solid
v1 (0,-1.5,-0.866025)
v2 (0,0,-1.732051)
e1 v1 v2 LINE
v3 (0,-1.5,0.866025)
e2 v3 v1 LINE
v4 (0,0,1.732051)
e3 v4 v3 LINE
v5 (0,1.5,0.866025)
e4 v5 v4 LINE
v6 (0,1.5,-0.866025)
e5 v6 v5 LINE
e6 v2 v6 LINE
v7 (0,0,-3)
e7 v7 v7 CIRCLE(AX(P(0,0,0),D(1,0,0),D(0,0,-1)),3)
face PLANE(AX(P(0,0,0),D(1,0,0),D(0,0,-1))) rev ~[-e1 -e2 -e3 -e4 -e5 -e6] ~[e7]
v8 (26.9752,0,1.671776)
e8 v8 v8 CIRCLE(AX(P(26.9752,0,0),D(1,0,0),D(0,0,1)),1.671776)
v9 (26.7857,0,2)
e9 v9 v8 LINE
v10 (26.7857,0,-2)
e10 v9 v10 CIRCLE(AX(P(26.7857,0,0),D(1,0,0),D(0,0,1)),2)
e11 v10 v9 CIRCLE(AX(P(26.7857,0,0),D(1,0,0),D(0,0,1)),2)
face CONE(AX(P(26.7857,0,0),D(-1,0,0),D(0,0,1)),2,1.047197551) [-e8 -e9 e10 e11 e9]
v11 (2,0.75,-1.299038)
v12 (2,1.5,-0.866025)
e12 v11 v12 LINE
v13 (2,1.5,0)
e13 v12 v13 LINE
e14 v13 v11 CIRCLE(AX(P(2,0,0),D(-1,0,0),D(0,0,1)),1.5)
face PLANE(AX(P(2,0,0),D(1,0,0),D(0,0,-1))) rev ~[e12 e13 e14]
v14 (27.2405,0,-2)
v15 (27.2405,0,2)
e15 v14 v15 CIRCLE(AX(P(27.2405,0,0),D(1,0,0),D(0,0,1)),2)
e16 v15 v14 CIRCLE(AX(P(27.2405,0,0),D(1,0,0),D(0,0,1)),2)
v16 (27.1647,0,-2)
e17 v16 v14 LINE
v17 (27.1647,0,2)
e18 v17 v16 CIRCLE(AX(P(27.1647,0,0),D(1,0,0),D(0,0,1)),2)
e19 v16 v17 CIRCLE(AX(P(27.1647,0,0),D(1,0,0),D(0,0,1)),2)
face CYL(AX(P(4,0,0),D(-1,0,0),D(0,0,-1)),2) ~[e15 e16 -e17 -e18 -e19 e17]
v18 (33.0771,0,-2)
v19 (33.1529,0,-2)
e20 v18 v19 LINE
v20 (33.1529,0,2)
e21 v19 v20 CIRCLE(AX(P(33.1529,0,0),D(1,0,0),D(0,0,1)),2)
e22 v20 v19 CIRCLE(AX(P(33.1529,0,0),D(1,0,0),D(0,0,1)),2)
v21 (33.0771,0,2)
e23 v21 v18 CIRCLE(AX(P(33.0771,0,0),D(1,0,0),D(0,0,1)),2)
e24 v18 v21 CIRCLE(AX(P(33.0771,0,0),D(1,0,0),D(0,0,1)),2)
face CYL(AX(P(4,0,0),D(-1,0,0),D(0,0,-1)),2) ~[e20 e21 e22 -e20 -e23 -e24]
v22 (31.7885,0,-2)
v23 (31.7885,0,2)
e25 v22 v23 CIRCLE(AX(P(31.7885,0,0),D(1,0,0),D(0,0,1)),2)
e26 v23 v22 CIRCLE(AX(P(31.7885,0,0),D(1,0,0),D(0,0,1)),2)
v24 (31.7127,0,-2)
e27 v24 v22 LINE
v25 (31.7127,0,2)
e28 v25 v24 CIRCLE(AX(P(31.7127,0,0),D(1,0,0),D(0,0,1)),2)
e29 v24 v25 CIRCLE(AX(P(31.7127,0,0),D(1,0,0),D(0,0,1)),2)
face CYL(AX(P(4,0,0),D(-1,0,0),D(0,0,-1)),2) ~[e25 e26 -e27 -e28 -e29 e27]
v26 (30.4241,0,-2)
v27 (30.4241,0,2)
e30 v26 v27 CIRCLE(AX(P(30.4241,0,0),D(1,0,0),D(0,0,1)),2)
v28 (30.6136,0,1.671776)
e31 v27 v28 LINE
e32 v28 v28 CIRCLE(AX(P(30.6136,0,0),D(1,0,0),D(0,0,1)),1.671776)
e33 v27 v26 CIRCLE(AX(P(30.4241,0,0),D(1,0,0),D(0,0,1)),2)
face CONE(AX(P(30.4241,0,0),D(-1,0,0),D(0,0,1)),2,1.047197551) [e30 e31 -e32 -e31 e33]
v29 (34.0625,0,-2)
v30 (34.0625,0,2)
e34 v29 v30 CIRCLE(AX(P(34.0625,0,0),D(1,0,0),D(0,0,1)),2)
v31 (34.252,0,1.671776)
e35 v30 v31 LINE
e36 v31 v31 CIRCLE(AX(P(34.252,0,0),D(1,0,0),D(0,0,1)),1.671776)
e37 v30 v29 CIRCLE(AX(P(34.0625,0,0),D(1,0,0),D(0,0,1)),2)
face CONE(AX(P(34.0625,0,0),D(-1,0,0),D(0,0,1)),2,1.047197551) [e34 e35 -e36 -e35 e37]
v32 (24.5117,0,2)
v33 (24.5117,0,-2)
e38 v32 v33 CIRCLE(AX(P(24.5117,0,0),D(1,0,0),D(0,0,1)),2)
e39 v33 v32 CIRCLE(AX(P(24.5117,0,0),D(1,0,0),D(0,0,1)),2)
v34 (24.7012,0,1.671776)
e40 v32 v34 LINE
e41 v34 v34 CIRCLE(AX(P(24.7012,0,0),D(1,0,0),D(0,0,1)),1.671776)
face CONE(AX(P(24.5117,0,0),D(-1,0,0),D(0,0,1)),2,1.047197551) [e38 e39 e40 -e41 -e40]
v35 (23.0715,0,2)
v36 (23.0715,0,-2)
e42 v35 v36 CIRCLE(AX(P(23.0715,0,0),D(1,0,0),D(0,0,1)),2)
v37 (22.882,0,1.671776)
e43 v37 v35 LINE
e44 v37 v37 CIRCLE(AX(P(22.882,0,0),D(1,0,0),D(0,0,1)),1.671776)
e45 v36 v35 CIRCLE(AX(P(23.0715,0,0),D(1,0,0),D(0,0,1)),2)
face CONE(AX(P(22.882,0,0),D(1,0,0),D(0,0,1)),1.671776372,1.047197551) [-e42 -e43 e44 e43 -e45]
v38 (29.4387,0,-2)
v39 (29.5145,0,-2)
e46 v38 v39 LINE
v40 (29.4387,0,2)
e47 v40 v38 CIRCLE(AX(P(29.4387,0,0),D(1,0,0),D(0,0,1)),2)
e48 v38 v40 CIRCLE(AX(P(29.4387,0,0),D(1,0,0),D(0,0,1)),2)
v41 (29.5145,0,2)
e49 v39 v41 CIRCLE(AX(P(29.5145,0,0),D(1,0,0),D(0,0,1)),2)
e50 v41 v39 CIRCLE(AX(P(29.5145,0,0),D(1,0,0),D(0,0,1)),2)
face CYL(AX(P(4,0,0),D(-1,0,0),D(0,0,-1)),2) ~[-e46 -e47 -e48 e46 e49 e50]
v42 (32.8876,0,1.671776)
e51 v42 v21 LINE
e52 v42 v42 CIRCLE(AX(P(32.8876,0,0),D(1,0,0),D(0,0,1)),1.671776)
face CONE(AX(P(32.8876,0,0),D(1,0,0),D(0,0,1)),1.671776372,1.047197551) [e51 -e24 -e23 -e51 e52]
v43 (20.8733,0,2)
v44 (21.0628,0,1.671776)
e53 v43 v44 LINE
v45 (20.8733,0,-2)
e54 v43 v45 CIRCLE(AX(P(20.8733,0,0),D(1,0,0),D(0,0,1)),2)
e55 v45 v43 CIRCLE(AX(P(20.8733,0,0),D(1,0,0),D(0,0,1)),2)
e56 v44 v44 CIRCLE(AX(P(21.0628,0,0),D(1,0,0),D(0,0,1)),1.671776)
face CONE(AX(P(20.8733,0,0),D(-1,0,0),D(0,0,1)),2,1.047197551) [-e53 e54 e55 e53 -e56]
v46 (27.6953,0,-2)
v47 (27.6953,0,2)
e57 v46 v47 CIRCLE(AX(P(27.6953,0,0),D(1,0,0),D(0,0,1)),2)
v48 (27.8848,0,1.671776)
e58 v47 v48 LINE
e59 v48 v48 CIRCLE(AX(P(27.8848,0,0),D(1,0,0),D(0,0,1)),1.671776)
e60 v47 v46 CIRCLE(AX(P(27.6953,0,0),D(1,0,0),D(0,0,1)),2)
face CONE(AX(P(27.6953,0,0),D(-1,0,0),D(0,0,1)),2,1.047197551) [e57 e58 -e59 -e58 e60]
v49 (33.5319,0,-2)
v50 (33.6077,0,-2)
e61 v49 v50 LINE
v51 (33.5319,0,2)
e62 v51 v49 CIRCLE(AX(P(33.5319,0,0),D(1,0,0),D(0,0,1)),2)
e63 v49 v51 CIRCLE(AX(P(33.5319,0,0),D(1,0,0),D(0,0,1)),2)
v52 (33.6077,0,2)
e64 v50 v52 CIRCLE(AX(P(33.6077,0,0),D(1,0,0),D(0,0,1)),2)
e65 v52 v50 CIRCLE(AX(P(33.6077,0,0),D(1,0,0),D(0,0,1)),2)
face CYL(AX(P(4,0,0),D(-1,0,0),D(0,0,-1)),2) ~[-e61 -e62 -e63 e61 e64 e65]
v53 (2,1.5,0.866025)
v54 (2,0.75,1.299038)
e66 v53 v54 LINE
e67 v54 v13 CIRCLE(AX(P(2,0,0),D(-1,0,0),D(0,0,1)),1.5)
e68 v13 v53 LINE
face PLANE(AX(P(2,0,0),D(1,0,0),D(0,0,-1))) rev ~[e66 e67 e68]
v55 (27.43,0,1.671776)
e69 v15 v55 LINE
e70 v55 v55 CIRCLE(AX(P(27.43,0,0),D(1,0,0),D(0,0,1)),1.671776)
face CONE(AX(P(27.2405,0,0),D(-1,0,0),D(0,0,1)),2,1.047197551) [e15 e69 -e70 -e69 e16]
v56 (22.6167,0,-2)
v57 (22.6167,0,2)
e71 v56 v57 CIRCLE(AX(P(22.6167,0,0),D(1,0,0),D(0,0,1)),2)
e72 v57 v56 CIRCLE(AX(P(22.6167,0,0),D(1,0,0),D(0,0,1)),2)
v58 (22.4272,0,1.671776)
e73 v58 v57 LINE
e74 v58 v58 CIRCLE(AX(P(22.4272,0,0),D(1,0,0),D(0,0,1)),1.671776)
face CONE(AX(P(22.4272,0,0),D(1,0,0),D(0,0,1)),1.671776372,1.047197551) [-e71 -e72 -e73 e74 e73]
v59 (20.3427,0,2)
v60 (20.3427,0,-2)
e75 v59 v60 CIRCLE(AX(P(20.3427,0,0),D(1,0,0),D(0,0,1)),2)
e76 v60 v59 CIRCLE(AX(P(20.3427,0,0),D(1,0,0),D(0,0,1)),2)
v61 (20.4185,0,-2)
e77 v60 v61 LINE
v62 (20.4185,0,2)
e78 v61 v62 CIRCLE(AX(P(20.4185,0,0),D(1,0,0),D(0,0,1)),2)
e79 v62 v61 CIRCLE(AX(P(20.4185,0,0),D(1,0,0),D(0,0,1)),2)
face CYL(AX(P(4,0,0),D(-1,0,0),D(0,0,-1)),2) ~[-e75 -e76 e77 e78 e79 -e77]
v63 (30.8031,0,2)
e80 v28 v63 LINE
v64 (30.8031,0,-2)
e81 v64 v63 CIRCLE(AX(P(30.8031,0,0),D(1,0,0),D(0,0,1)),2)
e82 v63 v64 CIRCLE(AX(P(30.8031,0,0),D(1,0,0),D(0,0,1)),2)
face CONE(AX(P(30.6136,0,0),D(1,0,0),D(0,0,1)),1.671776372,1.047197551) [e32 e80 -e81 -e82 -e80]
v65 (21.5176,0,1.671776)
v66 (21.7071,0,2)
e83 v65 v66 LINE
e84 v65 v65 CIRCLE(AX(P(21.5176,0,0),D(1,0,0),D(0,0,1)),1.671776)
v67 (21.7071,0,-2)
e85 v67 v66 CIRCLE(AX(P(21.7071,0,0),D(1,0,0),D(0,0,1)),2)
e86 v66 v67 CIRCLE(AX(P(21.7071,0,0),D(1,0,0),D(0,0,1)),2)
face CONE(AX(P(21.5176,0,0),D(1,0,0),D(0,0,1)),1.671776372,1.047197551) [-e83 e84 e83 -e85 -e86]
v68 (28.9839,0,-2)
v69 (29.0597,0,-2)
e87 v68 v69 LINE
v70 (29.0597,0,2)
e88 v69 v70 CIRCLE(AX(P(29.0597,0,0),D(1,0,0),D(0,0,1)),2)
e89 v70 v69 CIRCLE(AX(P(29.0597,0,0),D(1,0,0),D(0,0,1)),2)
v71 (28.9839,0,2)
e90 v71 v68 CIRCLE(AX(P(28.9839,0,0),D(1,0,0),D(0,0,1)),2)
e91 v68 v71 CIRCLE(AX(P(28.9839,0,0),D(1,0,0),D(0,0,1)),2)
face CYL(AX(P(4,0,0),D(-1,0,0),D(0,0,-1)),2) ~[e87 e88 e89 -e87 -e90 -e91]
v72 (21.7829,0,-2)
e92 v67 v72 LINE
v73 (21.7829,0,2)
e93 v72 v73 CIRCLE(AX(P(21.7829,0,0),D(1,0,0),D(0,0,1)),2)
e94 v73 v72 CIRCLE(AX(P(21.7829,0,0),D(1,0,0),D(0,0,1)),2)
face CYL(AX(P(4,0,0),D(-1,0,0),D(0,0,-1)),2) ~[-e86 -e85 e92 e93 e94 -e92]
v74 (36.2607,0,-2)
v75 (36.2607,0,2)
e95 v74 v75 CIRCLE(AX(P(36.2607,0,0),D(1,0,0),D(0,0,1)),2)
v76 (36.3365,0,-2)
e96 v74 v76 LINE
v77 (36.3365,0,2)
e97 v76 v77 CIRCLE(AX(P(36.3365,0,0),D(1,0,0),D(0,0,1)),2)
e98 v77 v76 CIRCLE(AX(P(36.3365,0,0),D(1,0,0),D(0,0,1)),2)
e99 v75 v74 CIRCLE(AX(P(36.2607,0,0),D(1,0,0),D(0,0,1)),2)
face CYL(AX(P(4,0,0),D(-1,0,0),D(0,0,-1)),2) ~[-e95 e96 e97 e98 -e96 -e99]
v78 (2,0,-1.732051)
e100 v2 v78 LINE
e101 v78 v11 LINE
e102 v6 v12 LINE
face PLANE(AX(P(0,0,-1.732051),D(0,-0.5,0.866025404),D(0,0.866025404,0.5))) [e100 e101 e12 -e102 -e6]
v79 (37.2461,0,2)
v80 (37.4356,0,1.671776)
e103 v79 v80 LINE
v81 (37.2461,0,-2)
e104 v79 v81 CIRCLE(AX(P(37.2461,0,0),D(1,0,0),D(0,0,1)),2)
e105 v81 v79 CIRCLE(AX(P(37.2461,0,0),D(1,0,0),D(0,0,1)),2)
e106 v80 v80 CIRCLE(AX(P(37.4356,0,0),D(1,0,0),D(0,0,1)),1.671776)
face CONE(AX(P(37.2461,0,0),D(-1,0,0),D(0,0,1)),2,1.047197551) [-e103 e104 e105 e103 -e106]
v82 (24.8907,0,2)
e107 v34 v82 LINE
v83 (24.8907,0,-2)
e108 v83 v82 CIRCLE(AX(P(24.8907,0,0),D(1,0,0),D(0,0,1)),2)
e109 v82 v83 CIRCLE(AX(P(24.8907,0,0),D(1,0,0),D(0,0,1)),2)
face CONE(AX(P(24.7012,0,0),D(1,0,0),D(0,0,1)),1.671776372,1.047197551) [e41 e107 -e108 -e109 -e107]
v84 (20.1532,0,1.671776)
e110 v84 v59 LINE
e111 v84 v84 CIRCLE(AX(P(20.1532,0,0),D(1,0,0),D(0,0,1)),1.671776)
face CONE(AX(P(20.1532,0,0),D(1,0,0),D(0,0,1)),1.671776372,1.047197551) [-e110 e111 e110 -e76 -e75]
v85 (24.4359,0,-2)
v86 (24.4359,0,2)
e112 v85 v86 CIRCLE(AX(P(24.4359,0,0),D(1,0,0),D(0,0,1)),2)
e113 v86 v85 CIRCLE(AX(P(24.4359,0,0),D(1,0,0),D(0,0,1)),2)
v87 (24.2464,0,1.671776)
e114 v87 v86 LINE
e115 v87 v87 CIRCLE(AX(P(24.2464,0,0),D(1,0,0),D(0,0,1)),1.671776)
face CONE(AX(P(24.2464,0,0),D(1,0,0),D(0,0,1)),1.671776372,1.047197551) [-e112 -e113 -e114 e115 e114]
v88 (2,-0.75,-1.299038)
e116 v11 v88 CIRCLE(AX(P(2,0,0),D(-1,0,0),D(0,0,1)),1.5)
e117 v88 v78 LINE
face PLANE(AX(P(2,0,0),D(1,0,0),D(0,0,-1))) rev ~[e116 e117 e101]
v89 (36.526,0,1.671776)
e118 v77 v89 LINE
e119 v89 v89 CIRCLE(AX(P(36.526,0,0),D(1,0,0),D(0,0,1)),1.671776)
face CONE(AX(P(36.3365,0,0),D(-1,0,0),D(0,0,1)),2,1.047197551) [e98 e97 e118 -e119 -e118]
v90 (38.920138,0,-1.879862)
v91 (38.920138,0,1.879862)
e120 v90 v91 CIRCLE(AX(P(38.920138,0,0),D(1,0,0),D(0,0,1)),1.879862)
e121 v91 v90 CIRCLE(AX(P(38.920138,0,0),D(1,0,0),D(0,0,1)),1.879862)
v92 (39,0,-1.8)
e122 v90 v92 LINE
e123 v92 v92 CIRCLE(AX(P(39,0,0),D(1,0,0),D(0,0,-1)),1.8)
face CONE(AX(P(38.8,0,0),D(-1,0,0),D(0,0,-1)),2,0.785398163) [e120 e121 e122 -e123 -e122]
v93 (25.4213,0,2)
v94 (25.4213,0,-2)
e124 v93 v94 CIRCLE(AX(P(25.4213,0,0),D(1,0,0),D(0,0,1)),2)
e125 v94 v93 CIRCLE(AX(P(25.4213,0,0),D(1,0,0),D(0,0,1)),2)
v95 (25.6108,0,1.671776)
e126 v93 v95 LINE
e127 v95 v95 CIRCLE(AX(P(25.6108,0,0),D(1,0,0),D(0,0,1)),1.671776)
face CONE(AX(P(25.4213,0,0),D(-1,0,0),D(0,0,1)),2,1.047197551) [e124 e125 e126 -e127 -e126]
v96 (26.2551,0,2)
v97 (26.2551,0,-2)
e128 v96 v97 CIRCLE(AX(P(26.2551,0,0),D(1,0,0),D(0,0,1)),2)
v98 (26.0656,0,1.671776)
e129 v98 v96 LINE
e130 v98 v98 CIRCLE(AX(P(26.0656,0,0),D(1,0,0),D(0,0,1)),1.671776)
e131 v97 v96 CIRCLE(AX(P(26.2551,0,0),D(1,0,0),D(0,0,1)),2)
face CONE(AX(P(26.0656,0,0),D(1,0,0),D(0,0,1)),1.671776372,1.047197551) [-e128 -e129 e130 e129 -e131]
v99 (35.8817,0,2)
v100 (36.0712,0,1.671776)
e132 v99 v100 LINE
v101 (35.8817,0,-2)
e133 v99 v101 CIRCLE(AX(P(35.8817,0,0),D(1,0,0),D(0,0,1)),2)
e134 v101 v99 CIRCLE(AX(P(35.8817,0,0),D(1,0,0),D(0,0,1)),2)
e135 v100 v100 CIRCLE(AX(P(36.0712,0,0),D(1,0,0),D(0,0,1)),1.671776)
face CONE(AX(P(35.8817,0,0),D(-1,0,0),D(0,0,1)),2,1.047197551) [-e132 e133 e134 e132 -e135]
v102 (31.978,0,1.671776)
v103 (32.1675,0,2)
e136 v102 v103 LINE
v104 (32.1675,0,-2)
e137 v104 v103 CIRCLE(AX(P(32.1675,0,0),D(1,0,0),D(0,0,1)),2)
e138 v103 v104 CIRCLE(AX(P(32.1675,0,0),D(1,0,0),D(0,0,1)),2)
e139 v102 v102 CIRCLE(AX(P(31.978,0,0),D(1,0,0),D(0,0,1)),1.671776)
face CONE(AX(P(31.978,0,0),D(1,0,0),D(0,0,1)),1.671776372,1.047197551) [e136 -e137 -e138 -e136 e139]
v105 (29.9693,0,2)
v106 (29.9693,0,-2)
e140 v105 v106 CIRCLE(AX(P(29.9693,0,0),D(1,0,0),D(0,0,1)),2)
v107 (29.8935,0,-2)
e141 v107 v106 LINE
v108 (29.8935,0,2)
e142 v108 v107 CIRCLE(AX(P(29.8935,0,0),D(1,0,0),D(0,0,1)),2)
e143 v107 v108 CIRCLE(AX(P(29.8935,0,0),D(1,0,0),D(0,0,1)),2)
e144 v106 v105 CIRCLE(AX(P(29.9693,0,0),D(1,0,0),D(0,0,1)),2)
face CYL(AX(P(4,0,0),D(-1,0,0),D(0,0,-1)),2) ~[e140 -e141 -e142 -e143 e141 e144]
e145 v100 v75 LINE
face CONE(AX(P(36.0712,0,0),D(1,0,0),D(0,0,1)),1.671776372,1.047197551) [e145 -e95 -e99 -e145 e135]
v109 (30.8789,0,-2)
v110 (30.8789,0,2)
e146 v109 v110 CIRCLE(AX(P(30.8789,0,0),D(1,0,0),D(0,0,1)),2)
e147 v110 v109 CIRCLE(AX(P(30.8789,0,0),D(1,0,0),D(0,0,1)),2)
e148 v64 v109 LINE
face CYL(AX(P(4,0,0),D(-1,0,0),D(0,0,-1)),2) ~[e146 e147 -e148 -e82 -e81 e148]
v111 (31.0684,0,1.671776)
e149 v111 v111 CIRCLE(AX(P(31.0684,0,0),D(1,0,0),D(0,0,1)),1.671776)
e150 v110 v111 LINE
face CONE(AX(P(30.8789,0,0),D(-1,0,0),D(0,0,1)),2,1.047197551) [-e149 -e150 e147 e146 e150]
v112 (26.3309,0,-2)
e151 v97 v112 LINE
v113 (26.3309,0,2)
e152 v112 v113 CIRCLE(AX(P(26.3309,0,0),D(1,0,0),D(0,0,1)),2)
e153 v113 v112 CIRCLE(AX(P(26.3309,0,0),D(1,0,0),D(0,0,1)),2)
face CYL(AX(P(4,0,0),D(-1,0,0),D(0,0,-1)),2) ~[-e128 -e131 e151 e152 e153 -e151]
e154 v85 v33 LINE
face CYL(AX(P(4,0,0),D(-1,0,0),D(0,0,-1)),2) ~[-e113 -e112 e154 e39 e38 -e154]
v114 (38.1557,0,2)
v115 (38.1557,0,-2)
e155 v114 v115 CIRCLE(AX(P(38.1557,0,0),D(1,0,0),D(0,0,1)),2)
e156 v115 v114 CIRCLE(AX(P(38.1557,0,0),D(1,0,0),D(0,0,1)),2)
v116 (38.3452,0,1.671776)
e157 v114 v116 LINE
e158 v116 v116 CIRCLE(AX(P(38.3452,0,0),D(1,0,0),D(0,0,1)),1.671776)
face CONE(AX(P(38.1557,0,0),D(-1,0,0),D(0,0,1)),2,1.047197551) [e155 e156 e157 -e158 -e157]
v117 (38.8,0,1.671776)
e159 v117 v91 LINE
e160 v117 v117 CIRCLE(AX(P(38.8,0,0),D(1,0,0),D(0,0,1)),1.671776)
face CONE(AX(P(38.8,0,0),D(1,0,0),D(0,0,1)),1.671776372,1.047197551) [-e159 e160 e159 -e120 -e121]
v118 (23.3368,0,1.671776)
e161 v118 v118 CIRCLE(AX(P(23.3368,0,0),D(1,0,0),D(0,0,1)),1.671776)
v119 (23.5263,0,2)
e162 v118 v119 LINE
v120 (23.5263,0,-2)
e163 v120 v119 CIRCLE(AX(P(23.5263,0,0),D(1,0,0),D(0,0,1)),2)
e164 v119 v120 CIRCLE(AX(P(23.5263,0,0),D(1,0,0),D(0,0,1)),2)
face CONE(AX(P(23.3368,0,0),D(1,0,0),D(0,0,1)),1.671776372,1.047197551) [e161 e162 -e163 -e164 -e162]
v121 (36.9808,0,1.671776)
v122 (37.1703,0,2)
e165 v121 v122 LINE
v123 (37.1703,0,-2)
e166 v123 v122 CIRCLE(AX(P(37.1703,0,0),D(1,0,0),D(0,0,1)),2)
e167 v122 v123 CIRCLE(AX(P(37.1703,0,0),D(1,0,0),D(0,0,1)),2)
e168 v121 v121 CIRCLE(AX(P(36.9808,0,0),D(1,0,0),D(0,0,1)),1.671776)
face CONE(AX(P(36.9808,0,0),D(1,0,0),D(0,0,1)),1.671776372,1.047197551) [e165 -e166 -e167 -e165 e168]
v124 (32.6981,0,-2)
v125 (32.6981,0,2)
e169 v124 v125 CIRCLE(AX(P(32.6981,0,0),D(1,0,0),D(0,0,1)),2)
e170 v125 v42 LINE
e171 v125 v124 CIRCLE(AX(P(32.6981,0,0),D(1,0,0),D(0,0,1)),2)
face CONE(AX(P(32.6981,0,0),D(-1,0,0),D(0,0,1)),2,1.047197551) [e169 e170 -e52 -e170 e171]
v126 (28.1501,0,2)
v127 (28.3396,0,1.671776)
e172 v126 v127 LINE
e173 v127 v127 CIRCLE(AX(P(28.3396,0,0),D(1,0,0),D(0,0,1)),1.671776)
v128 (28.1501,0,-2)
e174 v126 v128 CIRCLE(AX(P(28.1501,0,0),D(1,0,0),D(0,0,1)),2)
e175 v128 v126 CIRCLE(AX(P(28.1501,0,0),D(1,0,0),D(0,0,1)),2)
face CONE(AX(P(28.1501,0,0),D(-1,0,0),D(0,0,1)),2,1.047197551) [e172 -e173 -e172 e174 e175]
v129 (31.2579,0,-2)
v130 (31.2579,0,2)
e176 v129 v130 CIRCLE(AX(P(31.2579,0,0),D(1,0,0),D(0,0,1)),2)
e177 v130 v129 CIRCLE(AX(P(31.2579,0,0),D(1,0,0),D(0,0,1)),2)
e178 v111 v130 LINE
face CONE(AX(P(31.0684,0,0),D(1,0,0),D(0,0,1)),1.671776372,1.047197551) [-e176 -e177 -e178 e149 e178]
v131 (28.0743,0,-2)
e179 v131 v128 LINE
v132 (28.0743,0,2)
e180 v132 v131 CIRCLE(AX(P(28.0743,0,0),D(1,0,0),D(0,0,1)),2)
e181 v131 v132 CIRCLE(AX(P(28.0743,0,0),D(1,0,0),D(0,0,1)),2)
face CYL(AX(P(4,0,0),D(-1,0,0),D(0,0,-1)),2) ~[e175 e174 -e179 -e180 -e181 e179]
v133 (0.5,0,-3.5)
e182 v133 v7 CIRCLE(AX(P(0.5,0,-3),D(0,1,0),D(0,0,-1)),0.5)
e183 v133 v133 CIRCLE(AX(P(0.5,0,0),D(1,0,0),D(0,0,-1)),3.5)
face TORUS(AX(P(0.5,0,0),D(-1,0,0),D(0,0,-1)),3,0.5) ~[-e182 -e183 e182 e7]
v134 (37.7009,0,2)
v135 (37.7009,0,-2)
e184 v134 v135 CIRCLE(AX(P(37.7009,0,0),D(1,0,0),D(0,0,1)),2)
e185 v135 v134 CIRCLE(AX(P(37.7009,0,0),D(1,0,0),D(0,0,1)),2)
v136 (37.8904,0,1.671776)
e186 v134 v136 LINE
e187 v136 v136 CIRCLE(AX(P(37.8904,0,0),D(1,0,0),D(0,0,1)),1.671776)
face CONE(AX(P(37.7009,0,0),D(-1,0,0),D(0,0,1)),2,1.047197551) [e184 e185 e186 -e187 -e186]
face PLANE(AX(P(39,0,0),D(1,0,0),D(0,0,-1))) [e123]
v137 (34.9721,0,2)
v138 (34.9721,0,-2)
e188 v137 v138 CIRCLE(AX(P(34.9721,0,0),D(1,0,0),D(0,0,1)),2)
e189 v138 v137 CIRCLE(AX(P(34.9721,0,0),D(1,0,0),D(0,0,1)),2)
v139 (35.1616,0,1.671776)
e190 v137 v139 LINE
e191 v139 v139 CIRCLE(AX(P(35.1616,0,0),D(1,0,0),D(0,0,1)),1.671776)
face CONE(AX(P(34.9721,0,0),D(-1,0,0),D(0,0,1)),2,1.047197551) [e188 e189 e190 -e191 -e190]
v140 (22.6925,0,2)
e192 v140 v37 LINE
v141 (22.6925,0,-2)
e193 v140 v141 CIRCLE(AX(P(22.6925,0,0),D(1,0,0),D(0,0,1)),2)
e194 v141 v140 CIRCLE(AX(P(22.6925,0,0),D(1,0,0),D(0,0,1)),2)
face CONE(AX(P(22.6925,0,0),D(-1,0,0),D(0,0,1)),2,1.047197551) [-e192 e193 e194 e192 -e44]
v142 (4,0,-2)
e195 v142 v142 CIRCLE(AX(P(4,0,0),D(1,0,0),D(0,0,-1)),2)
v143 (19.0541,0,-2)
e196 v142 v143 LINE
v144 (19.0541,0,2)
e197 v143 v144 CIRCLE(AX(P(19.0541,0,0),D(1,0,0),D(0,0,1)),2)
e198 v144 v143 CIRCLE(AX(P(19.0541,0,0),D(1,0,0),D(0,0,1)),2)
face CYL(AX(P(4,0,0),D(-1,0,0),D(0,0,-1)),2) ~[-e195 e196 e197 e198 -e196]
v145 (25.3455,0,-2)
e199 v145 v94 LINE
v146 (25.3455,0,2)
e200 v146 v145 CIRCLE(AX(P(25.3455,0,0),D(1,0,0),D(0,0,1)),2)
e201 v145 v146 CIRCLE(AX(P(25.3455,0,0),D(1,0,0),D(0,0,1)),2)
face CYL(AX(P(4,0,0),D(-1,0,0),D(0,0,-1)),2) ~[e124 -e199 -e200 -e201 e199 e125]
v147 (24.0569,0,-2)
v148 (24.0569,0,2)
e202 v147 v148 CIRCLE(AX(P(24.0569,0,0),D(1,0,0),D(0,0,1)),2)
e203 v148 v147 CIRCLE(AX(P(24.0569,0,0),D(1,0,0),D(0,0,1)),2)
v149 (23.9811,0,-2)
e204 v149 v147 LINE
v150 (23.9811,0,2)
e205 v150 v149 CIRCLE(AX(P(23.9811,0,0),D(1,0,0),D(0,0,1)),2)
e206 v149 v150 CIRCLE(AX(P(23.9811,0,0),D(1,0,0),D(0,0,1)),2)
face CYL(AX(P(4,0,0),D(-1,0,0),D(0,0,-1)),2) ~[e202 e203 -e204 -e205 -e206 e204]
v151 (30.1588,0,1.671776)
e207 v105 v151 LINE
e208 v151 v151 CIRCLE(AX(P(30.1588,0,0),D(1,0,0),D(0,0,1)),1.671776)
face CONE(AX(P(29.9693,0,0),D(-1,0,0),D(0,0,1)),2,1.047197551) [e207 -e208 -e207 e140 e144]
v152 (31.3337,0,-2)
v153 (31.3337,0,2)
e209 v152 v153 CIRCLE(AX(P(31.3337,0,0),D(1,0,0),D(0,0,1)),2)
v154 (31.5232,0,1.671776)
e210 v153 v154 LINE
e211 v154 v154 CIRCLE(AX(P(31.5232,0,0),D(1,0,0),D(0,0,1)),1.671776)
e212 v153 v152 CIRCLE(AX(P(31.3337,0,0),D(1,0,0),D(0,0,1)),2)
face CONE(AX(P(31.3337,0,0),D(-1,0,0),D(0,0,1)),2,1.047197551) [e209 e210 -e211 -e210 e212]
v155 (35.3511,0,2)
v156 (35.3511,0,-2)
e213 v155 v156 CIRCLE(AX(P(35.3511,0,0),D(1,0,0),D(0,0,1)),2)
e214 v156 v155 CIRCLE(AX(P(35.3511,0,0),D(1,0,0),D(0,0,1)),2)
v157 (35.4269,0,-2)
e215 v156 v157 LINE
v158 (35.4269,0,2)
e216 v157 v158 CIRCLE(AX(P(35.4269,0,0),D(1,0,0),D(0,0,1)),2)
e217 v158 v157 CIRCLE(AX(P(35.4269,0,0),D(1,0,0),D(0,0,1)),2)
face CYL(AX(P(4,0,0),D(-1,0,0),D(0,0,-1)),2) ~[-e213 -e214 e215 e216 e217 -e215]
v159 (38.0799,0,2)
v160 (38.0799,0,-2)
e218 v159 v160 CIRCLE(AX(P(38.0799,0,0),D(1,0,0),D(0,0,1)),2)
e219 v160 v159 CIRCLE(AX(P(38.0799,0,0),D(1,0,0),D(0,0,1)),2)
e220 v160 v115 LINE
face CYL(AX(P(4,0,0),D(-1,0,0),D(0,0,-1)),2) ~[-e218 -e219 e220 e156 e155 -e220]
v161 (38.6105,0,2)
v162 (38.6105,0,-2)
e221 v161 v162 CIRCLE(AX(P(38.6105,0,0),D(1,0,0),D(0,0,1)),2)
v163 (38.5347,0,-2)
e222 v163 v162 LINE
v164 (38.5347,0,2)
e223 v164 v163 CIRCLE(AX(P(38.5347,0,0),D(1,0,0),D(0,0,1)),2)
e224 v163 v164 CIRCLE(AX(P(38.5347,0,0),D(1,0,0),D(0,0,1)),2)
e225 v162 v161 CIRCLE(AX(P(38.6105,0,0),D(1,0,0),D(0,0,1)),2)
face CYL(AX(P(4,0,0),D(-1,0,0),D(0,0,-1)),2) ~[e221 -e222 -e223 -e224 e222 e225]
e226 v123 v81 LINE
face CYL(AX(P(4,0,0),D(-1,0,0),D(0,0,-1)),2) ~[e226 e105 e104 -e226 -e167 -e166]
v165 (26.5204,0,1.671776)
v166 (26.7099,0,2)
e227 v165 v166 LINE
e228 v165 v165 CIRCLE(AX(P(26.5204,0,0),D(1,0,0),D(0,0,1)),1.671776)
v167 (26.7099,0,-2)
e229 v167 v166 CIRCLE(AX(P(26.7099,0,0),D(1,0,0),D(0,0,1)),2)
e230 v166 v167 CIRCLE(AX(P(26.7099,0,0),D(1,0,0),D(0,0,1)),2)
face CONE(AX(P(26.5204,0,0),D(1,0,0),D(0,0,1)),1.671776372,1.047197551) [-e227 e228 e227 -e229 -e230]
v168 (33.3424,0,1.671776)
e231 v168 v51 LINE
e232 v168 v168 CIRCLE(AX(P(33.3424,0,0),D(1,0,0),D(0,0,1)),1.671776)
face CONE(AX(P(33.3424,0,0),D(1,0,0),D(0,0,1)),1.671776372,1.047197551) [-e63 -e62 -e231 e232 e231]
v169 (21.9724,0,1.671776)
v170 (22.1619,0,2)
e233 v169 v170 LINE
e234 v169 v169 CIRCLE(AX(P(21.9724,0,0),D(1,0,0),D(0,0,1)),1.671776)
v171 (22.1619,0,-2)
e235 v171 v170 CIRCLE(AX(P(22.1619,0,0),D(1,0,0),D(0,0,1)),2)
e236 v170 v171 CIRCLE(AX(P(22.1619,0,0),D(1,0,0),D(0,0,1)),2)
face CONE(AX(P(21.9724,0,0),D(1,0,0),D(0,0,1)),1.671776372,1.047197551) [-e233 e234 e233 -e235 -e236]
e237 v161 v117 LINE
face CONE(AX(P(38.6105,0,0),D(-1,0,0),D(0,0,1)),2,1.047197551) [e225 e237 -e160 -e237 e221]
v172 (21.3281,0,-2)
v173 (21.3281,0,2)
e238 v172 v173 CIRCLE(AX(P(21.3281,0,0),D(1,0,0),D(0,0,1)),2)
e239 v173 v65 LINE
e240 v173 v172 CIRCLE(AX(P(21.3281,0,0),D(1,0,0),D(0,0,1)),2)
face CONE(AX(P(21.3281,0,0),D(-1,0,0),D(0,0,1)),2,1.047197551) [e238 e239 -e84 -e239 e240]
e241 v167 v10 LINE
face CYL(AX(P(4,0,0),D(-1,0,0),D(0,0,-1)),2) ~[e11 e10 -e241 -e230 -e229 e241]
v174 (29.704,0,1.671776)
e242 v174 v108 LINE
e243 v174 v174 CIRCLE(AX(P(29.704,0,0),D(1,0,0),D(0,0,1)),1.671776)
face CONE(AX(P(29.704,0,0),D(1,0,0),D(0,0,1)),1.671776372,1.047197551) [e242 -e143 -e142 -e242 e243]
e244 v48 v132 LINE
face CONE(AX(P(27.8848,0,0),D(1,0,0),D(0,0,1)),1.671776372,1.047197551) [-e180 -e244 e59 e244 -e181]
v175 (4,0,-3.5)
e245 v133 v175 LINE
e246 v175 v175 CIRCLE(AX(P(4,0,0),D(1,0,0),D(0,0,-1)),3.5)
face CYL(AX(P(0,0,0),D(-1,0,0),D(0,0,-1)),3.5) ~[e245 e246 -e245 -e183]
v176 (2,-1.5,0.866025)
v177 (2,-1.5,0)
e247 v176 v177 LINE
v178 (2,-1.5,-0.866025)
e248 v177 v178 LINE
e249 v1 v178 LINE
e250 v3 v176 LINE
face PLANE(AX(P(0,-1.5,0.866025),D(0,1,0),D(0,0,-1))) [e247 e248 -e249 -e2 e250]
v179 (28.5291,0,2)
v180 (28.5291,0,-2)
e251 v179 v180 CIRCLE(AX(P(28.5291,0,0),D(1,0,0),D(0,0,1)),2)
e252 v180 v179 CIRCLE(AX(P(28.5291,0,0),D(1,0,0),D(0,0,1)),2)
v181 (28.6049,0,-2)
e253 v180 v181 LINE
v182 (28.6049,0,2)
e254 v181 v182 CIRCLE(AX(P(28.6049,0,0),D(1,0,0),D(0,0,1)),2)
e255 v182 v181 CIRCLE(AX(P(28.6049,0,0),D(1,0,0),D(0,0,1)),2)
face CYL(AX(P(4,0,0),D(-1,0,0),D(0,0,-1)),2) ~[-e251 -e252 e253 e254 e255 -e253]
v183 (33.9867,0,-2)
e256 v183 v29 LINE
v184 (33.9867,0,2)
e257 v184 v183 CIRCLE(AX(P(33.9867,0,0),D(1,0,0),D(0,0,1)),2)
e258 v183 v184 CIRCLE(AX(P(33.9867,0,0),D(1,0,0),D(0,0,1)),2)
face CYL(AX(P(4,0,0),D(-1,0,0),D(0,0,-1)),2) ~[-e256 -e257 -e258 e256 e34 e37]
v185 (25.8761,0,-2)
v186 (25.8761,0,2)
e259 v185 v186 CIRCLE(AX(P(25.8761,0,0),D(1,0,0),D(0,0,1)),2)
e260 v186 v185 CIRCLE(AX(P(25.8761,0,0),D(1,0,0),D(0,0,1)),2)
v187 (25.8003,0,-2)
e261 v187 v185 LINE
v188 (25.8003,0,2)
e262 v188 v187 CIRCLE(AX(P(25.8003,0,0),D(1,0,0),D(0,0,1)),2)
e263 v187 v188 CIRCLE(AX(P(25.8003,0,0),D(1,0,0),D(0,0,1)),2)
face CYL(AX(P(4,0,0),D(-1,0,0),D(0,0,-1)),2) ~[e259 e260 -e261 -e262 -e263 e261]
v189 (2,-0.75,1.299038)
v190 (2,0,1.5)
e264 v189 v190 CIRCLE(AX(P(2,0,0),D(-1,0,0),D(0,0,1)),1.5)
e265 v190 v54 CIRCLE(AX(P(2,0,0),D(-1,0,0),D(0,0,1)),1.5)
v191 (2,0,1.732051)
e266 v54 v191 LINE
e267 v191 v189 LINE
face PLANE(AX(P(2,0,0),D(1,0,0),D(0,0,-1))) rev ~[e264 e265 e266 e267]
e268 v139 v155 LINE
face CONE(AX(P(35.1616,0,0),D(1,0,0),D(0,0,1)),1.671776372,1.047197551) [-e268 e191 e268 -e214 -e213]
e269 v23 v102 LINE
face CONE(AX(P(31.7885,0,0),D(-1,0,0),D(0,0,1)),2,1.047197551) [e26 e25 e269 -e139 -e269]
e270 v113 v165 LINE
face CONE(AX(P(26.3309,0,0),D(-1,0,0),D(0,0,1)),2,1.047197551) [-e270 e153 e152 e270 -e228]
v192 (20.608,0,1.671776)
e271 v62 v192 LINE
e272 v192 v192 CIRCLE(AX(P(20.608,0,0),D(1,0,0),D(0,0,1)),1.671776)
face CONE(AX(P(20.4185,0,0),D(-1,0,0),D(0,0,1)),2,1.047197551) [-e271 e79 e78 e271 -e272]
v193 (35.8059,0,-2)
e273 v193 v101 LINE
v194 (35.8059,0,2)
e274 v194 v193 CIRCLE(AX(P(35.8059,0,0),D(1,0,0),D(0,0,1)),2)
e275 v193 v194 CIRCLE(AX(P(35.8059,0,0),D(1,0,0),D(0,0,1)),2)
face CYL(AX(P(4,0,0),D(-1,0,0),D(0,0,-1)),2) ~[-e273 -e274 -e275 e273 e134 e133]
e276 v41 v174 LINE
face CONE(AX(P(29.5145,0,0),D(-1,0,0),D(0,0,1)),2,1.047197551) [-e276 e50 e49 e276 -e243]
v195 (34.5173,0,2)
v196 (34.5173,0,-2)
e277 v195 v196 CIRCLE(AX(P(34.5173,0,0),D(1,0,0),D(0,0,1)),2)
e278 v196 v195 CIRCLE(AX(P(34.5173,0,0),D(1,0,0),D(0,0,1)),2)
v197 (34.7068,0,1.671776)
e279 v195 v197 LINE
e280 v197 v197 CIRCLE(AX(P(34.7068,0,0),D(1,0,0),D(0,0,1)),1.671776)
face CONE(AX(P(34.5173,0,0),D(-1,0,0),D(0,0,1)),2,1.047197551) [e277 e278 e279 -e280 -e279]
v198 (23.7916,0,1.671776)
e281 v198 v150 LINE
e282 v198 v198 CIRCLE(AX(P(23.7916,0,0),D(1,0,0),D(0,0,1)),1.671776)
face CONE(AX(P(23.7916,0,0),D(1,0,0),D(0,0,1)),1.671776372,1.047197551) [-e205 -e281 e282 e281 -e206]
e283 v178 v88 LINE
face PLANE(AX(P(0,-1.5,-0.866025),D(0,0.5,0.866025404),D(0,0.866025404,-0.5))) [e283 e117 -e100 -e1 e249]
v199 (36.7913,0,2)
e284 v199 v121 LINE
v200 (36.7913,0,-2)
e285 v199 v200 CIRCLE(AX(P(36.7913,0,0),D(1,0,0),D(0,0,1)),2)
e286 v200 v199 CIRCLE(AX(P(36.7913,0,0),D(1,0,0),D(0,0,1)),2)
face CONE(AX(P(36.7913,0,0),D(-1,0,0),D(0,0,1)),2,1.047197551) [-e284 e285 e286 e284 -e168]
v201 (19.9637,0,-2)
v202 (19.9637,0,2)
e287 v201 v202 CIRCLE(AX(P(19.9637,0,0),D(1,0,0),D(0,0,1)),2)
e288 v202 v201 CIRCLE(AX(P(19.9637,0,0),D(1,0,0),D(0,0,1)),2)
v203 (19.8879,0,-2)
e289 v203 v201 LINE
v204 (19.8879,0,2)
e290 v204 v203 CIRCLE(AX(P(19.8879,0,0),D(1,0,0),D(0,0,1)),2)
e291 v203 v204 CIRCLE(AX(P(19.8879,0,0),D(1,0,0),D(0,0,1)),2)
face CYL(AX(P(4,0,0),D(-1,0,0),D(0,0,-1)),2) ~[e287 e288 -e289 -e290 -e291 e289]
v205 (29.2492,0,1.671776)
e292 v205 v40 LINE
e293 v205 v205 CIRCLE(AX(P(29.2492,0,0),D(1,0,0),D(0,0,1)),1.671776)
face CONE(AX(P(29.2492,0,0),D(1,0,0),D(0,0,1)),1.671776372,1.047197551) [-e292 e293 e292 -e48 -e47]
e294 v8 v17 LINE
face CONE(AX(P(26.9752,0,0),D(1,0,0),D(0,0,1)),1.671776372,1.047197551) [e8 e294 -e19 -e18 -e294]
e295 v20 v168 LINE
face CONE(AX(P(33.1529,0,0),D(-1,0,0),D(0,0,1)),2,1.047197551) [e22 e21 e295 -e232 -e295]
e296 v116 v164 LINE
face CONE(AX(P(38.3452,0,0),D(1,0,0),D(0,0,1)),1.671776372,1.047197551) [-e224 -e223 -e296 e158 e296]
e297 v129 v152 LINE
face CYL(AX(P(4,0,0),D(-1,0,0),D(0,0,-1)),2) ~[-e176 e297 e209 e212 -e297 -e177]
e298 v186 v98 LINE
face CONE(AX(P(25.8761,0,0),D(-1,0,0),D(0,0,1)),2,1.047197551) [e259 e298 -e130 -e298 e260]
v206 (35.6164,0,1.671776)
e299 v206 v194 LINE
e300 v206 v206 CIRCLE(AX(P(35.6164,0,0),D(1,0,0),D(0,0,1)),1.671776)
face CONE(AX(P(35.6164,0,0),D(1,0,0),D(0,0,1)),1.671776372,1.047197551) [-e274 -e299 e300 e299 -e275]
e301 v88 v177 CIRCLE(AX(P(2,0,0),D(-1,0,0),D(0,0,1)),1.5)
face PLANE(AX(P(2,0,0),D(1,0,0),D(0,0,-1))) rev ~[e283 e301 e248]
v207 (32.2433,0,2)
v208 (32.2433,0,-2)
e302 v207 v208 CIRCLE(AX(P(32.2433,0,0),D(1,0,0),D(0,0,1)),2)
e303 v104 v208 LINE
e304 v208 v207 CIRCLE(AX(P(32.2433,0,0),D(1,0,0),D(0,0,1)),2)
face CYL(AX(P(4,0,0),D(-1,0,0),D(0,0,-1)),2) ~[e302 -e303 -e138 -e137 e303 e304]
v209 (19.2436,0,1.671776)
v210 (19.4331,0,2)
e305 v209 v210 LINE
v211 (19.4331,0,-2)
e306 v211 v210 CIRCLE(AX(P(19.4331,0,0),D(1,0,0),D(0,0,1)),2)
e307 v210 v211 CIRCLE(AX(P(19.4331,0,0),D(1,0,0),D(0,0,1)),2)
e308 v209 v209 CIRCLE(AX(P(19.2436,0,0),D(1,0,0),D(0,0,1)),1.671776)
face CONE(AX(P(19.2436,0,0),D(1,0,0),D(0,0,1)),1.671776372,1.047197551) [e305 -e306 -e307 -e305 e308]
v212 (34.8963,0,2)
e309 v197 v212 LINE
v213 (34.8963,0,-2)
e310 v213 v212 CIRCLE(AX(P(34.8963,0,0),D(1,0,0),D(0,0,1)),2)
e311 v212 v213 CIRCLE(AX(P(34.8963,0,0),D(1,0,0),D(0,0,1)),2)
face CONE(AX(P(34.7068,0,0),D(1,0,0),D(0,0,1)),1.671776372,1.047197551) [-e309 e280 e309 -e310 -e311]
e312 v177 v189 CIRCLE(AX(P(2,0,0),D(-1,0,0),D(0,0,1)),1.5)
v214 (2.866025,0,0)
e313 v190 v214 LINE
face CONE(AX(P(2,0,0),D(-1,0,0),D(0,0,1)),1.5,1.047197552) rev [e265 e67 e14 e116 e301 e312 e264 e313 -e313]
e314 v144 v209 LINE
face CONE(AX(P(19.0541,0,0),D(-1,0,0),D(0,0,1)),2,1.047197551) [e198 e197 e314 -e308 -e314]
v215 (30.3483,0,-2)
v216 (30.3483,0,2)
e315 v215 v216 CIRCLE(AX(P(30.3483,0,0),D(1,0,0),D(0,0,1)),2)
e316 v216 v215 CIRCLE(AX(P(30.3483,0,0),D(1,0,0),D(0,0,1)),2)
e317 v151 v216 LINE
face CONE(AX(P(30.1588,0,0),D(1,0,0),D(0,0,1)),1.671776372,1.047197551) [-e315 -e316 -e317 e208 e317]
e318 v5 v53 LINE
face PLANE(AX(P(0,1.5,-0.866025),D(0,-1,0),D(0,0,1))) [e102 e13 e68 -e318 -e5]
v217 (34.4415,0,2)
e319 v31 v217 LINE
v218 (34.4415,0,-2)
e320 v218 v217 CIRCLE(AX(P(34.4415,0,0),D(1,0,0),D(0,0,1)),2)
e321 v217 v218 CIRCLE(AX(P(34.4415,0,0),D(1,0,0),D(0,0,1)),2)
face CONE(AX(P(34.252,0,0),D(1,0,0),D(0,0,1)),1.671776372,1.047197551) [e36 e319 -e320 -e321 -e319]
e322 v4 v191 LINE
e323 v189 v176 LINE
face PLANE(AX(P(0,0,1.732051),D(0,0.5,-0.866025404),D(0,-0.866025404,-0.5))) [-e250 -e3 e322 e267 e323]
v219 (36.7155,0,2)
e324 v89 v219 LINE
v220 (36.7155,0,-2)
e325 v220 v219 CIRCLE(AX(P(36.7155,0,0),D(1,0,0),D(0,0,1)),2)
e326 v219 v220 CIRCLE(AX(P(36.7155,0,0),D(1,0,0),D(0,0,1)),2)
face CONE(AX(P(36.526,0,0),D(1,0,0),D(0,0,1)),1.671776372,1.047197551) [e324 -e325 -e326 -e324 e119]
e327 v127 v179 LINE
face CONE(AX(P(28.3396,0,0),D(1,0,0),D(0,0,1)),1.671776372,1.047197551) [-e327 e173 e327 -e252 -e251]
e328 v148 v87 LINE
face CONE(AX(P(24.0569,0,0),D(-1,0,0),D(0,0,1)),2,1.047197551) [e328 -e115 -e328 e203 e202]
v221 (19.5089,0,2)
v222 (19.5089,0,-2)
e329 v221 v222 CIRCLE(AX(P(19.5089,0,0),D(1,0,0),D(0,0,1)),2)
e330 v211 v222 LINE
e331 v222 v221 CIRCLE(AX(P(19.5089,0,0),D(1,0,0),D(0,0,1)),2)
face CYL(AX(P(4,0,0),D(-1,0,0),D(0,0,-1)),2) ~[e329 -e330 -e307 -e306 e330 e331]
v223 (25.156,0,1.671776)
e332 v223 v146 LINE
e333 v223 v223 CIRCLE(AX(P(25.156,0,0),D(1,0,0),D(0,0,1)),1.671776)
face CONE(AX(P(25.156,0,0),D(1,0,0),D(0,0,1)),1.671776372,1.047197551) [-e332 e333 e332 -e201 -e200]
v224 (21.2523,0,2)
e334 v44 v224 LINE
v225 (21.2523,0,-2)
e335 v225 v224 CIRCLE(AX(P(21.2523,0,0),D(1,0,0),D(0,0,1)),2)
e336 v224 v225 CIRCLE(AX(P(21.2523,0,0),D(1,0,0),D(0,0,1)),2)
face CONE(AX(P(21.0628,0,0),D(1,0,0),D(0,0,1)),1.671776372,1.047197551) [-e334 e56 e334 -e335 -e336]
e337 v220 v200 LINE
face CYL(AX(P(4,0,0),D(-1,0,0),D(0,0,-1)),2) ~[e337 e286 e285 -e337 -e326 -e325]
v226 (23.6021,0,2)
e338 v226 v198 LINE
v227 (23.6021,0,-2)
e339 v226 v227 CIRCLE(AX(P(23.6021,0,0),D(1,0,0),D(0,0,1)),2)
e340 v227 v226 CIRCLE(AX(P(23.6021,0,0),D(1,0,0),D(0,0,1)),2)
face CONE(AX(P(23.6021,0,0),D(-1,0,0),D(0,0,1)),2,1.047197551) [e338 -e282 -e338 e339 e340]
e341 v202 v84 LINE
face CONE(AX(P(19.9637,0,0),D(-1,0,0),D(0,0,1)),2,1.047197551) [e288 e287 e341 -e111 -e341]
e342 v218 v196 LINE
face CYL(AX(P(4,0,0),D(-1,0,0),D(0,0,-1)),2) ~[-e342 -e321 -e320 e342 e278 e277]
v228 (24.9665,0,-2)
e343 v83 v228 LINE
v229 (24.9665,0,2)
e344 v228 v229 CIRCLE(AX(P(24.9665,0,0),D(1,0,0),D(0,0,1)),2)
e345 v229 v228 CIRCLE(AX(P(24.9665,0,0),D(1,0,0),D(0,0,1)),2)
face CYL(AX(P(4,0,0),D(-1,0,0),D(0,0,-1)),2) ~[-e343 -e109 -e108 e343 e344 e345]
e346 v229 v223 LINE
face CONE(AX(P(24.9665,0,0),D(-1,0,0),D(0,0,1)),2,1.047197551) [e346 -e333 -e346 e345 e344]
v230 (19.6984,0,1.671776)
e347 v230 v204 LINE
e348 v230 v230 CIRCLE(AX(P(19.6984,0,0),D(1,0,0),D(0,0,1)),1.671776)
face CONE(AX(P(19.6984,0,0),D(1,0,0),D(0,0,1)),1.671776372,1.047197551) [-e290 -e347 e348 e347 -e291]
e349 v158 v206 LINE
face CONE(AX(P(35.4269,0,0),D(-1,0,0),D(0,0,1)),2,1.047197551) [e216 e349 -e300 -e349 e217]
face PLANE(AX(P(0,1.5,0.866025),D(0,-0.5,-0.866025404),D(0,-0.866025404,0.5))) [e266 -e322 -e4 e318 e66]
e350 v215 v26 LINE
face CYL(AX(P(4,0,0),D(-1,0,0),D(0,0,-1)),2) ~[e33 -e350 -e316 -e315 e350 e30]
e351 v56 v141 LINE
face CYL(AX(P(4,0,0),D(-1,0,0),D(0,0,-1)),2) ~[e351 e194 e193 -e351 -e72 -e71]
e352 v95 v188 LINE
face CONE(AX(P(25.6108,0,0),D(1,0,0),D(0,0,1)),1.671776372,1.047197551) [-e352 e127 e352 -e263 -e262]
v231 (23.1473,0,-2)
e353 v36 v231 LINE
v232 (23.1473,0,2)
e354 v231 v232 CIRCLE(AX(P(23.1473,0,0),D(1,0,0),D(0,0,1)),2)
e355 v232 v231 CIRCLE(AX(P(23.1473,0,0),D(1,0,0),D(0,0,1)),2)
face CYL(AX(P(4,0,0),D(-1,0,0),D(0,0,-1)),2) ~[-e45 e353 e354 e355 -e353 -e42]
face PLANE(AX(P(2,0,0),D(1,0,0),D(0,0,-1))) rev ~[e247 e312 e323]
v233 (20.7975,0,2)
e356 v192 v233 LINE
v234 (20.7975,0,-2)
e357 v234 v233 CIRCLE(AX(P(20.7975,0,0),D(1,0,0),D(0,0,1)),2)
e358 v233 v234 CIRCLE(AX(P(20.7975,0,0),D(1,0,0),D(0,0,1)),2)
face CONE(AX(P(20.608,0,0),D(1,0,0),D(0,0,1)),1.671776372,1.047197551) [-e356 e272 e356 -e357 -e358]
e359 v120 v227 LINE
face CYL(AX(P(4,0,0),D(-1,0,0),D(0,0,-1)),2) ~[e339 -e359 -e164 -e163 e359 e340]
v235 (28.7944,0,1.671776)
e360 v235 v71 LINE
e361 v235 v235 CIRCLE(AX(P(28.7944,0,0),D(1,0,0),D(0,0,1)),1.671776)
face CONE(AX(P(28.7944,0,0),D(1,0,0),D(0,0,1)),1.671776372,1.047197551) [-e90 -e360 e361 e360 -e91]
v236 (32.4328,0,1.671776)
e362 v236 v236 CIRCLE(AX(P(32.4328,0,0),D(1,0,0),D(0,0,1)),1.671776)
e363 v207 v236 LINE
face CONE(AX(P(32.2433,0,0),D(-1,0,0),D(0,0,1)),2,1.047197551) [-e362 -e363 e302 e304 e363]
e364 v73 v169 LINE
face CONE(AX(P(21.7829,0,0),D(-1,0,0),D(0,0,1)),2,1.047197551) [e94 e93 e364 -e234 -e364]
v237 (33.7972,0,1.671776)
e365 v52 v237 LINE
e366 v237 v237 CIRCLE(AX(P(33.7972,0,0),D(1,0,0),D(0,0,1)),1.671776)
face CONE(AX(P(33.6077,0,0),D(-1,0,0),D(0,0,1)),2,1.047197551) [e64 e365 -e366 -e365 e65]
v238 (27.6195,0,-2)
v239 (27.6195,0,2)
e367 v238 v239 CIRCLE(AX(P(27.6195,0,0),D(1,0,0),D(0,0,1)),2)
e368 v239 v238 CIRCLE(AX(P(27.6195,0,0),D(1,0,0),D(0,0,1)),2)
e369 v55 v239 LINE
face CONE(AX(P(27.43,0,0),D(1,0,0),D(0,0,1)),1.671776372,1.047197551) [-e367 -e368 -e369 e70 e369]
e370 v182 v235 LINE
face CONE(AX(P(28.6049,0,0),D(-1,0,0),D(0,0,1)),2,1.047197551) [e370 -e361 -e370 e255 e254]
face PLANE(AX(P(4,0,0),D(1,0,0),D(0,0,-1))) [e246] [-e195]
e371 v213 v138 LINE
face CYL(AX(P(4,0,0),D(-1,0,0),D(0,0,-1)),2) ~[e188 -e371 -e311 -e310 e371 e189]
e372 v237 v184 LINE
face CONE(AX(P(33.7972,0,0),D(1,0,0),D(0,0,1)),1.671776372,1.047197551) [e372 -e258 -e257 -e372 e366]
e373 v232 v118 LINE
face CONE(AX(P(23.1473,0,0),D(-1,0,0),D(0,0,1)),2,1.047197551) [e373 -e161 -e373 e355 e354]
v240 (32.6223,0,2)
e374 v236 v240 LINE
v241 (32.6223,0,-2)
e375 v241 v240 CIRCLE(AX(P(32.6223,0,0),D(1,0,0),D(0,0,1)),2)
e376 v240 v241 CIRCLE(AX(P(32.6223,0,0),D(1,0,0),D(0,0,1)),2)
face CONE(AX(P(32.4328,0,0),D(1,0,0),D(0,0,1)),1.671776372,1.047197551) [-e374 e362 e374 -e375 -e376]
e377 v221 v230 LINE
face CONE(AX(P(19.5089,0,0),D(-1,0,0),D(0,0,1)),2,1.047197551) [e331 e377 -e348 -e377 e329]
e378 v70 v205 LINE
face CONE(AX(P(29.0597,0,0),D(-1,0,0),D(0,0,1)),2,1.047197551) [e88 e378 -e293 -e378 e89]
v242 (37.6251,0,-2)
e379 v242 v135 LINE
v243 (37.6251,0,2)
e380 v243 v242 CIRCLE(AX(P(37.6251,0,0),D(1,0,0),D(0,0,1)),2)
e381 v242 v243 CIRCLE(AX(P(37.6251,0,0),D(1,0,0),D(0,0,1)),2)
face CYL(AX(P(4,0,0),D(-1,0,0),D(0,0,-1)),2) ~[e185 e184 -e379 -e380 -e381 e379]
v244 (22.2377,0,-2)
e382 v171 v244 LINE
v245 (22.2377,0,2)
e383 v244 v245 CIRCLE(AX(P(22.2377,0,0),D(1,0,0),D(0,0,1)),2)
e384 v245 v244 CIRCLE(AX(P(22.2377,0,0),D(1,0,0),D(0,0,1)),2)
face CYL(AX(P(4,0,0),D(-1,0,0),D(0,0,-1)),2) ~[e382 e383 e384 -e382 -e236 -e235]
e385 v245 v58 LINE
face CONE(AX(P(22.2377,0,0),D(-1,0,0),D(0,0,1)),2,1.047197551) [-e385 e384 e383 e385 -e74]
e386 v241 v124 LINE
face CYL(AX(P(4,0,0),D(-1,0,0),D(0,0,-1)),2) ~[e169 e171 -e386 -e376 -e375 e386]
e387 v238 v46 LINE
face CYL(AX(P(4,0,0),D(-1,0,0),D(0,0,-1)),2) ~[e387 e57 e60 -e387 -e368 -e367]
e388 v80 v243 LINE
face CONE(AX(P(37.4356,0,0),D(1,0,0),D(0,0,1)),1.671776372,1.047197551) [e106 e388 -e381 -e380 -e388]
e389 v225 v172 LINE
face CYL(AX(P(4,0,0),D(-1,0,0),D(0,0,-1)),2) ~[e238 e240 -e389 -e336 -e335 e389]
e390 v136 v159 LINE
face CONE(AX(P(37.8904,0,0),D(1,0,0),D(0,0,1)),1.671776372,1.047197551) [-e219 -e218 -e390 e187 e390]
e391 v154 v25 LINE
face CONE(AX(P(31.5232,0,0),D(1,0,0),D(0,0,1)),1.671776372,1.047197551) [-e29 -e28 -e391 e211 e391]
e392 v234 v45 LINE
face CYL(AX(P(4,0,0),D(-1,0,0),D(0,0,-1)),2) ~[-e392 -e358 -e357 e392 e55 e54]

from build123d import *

# Parameters (mm, degrees)
SKETCH1_R           = 3.5
BASEHEAD_DEPTH      = 4
SKETCH2_R           = 2
BASEBODY_DEPTH      = 35
HEXAGONSOCKET_DEPTH = 2
TOPFILLET_R         = 0.5
CHAMFER1_SIZE       = 0.2
LPATTERN10_COUNT    = 44
LPATTERN10_PITCH    = 0.4548


with BuildPart() as part:
    # Sketch1 → BaseHead (new body)
    with BuildSketch(Plane(origin=(0, 0, 0), x_dir=(0, 0, -1), z_dir=(1, 0, 0))):
        Circle(SKETCH1_R)
    extrude(amount=BASEHEAD_DEPTH)

    # Sketch2 → BaseBody (add)
    with BuildSketch(Plane(origin=(4, 0, 0), x_dir=(0, 0, -1), z_dir=(1, 0, 0))):
        Circle(SKETCH2_R)
    extrude(amount=BASEBODY_DEPTH)

    # Sketch3 → HexagonSocket (cut)
    with BuildSketch(Plane(origin=(0, 0, 0), x_dir=(0, 0, -1), z_dir=(1, 0, 0))):
        Polygon((1.732050808, 0), (0.866025404, 1.5), (-0.866025404, 1.5), (-1.732050808, 0), (-0.866025404, -1.5), (0.866025404, -1.5), align=None)
    extrude(amount=HEXAGONSOCKET_DEPTH, mode=Mode.SUBTRACT)

    # Sketch4 → Cut-Revolve1 (revolve, cut)
    with BuildSketch(Plane(origin=(-4.19613823, 0.75, 0), x_dir=(-1, 0, 0), z_dir=(0, 0, 1)), mode=Mode.PRIVATE) as cut_revolve1_sk:
        Polygon((-6.19613823, 2.25), (-7.062163633, 0.75), (-6.19613823, 0.75), align=None)
    revolve(cut_revolve1_sk.sketch.rotate(Axis((0.838992387, 0, 0), (-1, 0, 0)), 90), axis=Axis((0.838992387, 0, 0), (-1, 0, 0)), mode=Mode.SUBTRACT)

    # TopFillet
    topfillet_edges = [part.edges().sort_by_distance(p)[0] for p in [
        (0, 0, 3.5),
    ]]
    fillet(topfillet_edges, radius=TOPFILLET_R)

    # Chamfer1
    chamfer1_edges = [part.edges().sort_by_distance(p)[0] for p in [
        (39, 0, 2),
    ]]
    chamfer(chamfer1_edges, length=CHAMFER1_SIZE)

    # Sketch5 → Cut-Revolve10 (revolve, cut)
    with BuildSketch(Plane.XY, mode=Mode.PRIVATE) as cut_revolve10_sk:
        Polygon((38.8, 1.671776372), (38.9895, 2), (38.9895, 2.379), (38.6105, 2.379), (38.6105, 2), align=None)
    cut_revolve10 = revolve(cut_revolve10_sk.sketch.rotate(Axis((0, 0, 0), (1, 0, 0)), 90), axis=Axis((0, 0, 0), (1, 0, 0)), mode=Mode.SUBTRACT)

    # LPattern10: Cut-Revolve10 ×44
    with Locations(*[(-i * LPATTERN10_PITCH, 0, 0) for i in range(1, LPATTERN10_COUNT)]):
        add(cut_revolve10, mode=Mode.SUBTRACT)


solid = part.part
